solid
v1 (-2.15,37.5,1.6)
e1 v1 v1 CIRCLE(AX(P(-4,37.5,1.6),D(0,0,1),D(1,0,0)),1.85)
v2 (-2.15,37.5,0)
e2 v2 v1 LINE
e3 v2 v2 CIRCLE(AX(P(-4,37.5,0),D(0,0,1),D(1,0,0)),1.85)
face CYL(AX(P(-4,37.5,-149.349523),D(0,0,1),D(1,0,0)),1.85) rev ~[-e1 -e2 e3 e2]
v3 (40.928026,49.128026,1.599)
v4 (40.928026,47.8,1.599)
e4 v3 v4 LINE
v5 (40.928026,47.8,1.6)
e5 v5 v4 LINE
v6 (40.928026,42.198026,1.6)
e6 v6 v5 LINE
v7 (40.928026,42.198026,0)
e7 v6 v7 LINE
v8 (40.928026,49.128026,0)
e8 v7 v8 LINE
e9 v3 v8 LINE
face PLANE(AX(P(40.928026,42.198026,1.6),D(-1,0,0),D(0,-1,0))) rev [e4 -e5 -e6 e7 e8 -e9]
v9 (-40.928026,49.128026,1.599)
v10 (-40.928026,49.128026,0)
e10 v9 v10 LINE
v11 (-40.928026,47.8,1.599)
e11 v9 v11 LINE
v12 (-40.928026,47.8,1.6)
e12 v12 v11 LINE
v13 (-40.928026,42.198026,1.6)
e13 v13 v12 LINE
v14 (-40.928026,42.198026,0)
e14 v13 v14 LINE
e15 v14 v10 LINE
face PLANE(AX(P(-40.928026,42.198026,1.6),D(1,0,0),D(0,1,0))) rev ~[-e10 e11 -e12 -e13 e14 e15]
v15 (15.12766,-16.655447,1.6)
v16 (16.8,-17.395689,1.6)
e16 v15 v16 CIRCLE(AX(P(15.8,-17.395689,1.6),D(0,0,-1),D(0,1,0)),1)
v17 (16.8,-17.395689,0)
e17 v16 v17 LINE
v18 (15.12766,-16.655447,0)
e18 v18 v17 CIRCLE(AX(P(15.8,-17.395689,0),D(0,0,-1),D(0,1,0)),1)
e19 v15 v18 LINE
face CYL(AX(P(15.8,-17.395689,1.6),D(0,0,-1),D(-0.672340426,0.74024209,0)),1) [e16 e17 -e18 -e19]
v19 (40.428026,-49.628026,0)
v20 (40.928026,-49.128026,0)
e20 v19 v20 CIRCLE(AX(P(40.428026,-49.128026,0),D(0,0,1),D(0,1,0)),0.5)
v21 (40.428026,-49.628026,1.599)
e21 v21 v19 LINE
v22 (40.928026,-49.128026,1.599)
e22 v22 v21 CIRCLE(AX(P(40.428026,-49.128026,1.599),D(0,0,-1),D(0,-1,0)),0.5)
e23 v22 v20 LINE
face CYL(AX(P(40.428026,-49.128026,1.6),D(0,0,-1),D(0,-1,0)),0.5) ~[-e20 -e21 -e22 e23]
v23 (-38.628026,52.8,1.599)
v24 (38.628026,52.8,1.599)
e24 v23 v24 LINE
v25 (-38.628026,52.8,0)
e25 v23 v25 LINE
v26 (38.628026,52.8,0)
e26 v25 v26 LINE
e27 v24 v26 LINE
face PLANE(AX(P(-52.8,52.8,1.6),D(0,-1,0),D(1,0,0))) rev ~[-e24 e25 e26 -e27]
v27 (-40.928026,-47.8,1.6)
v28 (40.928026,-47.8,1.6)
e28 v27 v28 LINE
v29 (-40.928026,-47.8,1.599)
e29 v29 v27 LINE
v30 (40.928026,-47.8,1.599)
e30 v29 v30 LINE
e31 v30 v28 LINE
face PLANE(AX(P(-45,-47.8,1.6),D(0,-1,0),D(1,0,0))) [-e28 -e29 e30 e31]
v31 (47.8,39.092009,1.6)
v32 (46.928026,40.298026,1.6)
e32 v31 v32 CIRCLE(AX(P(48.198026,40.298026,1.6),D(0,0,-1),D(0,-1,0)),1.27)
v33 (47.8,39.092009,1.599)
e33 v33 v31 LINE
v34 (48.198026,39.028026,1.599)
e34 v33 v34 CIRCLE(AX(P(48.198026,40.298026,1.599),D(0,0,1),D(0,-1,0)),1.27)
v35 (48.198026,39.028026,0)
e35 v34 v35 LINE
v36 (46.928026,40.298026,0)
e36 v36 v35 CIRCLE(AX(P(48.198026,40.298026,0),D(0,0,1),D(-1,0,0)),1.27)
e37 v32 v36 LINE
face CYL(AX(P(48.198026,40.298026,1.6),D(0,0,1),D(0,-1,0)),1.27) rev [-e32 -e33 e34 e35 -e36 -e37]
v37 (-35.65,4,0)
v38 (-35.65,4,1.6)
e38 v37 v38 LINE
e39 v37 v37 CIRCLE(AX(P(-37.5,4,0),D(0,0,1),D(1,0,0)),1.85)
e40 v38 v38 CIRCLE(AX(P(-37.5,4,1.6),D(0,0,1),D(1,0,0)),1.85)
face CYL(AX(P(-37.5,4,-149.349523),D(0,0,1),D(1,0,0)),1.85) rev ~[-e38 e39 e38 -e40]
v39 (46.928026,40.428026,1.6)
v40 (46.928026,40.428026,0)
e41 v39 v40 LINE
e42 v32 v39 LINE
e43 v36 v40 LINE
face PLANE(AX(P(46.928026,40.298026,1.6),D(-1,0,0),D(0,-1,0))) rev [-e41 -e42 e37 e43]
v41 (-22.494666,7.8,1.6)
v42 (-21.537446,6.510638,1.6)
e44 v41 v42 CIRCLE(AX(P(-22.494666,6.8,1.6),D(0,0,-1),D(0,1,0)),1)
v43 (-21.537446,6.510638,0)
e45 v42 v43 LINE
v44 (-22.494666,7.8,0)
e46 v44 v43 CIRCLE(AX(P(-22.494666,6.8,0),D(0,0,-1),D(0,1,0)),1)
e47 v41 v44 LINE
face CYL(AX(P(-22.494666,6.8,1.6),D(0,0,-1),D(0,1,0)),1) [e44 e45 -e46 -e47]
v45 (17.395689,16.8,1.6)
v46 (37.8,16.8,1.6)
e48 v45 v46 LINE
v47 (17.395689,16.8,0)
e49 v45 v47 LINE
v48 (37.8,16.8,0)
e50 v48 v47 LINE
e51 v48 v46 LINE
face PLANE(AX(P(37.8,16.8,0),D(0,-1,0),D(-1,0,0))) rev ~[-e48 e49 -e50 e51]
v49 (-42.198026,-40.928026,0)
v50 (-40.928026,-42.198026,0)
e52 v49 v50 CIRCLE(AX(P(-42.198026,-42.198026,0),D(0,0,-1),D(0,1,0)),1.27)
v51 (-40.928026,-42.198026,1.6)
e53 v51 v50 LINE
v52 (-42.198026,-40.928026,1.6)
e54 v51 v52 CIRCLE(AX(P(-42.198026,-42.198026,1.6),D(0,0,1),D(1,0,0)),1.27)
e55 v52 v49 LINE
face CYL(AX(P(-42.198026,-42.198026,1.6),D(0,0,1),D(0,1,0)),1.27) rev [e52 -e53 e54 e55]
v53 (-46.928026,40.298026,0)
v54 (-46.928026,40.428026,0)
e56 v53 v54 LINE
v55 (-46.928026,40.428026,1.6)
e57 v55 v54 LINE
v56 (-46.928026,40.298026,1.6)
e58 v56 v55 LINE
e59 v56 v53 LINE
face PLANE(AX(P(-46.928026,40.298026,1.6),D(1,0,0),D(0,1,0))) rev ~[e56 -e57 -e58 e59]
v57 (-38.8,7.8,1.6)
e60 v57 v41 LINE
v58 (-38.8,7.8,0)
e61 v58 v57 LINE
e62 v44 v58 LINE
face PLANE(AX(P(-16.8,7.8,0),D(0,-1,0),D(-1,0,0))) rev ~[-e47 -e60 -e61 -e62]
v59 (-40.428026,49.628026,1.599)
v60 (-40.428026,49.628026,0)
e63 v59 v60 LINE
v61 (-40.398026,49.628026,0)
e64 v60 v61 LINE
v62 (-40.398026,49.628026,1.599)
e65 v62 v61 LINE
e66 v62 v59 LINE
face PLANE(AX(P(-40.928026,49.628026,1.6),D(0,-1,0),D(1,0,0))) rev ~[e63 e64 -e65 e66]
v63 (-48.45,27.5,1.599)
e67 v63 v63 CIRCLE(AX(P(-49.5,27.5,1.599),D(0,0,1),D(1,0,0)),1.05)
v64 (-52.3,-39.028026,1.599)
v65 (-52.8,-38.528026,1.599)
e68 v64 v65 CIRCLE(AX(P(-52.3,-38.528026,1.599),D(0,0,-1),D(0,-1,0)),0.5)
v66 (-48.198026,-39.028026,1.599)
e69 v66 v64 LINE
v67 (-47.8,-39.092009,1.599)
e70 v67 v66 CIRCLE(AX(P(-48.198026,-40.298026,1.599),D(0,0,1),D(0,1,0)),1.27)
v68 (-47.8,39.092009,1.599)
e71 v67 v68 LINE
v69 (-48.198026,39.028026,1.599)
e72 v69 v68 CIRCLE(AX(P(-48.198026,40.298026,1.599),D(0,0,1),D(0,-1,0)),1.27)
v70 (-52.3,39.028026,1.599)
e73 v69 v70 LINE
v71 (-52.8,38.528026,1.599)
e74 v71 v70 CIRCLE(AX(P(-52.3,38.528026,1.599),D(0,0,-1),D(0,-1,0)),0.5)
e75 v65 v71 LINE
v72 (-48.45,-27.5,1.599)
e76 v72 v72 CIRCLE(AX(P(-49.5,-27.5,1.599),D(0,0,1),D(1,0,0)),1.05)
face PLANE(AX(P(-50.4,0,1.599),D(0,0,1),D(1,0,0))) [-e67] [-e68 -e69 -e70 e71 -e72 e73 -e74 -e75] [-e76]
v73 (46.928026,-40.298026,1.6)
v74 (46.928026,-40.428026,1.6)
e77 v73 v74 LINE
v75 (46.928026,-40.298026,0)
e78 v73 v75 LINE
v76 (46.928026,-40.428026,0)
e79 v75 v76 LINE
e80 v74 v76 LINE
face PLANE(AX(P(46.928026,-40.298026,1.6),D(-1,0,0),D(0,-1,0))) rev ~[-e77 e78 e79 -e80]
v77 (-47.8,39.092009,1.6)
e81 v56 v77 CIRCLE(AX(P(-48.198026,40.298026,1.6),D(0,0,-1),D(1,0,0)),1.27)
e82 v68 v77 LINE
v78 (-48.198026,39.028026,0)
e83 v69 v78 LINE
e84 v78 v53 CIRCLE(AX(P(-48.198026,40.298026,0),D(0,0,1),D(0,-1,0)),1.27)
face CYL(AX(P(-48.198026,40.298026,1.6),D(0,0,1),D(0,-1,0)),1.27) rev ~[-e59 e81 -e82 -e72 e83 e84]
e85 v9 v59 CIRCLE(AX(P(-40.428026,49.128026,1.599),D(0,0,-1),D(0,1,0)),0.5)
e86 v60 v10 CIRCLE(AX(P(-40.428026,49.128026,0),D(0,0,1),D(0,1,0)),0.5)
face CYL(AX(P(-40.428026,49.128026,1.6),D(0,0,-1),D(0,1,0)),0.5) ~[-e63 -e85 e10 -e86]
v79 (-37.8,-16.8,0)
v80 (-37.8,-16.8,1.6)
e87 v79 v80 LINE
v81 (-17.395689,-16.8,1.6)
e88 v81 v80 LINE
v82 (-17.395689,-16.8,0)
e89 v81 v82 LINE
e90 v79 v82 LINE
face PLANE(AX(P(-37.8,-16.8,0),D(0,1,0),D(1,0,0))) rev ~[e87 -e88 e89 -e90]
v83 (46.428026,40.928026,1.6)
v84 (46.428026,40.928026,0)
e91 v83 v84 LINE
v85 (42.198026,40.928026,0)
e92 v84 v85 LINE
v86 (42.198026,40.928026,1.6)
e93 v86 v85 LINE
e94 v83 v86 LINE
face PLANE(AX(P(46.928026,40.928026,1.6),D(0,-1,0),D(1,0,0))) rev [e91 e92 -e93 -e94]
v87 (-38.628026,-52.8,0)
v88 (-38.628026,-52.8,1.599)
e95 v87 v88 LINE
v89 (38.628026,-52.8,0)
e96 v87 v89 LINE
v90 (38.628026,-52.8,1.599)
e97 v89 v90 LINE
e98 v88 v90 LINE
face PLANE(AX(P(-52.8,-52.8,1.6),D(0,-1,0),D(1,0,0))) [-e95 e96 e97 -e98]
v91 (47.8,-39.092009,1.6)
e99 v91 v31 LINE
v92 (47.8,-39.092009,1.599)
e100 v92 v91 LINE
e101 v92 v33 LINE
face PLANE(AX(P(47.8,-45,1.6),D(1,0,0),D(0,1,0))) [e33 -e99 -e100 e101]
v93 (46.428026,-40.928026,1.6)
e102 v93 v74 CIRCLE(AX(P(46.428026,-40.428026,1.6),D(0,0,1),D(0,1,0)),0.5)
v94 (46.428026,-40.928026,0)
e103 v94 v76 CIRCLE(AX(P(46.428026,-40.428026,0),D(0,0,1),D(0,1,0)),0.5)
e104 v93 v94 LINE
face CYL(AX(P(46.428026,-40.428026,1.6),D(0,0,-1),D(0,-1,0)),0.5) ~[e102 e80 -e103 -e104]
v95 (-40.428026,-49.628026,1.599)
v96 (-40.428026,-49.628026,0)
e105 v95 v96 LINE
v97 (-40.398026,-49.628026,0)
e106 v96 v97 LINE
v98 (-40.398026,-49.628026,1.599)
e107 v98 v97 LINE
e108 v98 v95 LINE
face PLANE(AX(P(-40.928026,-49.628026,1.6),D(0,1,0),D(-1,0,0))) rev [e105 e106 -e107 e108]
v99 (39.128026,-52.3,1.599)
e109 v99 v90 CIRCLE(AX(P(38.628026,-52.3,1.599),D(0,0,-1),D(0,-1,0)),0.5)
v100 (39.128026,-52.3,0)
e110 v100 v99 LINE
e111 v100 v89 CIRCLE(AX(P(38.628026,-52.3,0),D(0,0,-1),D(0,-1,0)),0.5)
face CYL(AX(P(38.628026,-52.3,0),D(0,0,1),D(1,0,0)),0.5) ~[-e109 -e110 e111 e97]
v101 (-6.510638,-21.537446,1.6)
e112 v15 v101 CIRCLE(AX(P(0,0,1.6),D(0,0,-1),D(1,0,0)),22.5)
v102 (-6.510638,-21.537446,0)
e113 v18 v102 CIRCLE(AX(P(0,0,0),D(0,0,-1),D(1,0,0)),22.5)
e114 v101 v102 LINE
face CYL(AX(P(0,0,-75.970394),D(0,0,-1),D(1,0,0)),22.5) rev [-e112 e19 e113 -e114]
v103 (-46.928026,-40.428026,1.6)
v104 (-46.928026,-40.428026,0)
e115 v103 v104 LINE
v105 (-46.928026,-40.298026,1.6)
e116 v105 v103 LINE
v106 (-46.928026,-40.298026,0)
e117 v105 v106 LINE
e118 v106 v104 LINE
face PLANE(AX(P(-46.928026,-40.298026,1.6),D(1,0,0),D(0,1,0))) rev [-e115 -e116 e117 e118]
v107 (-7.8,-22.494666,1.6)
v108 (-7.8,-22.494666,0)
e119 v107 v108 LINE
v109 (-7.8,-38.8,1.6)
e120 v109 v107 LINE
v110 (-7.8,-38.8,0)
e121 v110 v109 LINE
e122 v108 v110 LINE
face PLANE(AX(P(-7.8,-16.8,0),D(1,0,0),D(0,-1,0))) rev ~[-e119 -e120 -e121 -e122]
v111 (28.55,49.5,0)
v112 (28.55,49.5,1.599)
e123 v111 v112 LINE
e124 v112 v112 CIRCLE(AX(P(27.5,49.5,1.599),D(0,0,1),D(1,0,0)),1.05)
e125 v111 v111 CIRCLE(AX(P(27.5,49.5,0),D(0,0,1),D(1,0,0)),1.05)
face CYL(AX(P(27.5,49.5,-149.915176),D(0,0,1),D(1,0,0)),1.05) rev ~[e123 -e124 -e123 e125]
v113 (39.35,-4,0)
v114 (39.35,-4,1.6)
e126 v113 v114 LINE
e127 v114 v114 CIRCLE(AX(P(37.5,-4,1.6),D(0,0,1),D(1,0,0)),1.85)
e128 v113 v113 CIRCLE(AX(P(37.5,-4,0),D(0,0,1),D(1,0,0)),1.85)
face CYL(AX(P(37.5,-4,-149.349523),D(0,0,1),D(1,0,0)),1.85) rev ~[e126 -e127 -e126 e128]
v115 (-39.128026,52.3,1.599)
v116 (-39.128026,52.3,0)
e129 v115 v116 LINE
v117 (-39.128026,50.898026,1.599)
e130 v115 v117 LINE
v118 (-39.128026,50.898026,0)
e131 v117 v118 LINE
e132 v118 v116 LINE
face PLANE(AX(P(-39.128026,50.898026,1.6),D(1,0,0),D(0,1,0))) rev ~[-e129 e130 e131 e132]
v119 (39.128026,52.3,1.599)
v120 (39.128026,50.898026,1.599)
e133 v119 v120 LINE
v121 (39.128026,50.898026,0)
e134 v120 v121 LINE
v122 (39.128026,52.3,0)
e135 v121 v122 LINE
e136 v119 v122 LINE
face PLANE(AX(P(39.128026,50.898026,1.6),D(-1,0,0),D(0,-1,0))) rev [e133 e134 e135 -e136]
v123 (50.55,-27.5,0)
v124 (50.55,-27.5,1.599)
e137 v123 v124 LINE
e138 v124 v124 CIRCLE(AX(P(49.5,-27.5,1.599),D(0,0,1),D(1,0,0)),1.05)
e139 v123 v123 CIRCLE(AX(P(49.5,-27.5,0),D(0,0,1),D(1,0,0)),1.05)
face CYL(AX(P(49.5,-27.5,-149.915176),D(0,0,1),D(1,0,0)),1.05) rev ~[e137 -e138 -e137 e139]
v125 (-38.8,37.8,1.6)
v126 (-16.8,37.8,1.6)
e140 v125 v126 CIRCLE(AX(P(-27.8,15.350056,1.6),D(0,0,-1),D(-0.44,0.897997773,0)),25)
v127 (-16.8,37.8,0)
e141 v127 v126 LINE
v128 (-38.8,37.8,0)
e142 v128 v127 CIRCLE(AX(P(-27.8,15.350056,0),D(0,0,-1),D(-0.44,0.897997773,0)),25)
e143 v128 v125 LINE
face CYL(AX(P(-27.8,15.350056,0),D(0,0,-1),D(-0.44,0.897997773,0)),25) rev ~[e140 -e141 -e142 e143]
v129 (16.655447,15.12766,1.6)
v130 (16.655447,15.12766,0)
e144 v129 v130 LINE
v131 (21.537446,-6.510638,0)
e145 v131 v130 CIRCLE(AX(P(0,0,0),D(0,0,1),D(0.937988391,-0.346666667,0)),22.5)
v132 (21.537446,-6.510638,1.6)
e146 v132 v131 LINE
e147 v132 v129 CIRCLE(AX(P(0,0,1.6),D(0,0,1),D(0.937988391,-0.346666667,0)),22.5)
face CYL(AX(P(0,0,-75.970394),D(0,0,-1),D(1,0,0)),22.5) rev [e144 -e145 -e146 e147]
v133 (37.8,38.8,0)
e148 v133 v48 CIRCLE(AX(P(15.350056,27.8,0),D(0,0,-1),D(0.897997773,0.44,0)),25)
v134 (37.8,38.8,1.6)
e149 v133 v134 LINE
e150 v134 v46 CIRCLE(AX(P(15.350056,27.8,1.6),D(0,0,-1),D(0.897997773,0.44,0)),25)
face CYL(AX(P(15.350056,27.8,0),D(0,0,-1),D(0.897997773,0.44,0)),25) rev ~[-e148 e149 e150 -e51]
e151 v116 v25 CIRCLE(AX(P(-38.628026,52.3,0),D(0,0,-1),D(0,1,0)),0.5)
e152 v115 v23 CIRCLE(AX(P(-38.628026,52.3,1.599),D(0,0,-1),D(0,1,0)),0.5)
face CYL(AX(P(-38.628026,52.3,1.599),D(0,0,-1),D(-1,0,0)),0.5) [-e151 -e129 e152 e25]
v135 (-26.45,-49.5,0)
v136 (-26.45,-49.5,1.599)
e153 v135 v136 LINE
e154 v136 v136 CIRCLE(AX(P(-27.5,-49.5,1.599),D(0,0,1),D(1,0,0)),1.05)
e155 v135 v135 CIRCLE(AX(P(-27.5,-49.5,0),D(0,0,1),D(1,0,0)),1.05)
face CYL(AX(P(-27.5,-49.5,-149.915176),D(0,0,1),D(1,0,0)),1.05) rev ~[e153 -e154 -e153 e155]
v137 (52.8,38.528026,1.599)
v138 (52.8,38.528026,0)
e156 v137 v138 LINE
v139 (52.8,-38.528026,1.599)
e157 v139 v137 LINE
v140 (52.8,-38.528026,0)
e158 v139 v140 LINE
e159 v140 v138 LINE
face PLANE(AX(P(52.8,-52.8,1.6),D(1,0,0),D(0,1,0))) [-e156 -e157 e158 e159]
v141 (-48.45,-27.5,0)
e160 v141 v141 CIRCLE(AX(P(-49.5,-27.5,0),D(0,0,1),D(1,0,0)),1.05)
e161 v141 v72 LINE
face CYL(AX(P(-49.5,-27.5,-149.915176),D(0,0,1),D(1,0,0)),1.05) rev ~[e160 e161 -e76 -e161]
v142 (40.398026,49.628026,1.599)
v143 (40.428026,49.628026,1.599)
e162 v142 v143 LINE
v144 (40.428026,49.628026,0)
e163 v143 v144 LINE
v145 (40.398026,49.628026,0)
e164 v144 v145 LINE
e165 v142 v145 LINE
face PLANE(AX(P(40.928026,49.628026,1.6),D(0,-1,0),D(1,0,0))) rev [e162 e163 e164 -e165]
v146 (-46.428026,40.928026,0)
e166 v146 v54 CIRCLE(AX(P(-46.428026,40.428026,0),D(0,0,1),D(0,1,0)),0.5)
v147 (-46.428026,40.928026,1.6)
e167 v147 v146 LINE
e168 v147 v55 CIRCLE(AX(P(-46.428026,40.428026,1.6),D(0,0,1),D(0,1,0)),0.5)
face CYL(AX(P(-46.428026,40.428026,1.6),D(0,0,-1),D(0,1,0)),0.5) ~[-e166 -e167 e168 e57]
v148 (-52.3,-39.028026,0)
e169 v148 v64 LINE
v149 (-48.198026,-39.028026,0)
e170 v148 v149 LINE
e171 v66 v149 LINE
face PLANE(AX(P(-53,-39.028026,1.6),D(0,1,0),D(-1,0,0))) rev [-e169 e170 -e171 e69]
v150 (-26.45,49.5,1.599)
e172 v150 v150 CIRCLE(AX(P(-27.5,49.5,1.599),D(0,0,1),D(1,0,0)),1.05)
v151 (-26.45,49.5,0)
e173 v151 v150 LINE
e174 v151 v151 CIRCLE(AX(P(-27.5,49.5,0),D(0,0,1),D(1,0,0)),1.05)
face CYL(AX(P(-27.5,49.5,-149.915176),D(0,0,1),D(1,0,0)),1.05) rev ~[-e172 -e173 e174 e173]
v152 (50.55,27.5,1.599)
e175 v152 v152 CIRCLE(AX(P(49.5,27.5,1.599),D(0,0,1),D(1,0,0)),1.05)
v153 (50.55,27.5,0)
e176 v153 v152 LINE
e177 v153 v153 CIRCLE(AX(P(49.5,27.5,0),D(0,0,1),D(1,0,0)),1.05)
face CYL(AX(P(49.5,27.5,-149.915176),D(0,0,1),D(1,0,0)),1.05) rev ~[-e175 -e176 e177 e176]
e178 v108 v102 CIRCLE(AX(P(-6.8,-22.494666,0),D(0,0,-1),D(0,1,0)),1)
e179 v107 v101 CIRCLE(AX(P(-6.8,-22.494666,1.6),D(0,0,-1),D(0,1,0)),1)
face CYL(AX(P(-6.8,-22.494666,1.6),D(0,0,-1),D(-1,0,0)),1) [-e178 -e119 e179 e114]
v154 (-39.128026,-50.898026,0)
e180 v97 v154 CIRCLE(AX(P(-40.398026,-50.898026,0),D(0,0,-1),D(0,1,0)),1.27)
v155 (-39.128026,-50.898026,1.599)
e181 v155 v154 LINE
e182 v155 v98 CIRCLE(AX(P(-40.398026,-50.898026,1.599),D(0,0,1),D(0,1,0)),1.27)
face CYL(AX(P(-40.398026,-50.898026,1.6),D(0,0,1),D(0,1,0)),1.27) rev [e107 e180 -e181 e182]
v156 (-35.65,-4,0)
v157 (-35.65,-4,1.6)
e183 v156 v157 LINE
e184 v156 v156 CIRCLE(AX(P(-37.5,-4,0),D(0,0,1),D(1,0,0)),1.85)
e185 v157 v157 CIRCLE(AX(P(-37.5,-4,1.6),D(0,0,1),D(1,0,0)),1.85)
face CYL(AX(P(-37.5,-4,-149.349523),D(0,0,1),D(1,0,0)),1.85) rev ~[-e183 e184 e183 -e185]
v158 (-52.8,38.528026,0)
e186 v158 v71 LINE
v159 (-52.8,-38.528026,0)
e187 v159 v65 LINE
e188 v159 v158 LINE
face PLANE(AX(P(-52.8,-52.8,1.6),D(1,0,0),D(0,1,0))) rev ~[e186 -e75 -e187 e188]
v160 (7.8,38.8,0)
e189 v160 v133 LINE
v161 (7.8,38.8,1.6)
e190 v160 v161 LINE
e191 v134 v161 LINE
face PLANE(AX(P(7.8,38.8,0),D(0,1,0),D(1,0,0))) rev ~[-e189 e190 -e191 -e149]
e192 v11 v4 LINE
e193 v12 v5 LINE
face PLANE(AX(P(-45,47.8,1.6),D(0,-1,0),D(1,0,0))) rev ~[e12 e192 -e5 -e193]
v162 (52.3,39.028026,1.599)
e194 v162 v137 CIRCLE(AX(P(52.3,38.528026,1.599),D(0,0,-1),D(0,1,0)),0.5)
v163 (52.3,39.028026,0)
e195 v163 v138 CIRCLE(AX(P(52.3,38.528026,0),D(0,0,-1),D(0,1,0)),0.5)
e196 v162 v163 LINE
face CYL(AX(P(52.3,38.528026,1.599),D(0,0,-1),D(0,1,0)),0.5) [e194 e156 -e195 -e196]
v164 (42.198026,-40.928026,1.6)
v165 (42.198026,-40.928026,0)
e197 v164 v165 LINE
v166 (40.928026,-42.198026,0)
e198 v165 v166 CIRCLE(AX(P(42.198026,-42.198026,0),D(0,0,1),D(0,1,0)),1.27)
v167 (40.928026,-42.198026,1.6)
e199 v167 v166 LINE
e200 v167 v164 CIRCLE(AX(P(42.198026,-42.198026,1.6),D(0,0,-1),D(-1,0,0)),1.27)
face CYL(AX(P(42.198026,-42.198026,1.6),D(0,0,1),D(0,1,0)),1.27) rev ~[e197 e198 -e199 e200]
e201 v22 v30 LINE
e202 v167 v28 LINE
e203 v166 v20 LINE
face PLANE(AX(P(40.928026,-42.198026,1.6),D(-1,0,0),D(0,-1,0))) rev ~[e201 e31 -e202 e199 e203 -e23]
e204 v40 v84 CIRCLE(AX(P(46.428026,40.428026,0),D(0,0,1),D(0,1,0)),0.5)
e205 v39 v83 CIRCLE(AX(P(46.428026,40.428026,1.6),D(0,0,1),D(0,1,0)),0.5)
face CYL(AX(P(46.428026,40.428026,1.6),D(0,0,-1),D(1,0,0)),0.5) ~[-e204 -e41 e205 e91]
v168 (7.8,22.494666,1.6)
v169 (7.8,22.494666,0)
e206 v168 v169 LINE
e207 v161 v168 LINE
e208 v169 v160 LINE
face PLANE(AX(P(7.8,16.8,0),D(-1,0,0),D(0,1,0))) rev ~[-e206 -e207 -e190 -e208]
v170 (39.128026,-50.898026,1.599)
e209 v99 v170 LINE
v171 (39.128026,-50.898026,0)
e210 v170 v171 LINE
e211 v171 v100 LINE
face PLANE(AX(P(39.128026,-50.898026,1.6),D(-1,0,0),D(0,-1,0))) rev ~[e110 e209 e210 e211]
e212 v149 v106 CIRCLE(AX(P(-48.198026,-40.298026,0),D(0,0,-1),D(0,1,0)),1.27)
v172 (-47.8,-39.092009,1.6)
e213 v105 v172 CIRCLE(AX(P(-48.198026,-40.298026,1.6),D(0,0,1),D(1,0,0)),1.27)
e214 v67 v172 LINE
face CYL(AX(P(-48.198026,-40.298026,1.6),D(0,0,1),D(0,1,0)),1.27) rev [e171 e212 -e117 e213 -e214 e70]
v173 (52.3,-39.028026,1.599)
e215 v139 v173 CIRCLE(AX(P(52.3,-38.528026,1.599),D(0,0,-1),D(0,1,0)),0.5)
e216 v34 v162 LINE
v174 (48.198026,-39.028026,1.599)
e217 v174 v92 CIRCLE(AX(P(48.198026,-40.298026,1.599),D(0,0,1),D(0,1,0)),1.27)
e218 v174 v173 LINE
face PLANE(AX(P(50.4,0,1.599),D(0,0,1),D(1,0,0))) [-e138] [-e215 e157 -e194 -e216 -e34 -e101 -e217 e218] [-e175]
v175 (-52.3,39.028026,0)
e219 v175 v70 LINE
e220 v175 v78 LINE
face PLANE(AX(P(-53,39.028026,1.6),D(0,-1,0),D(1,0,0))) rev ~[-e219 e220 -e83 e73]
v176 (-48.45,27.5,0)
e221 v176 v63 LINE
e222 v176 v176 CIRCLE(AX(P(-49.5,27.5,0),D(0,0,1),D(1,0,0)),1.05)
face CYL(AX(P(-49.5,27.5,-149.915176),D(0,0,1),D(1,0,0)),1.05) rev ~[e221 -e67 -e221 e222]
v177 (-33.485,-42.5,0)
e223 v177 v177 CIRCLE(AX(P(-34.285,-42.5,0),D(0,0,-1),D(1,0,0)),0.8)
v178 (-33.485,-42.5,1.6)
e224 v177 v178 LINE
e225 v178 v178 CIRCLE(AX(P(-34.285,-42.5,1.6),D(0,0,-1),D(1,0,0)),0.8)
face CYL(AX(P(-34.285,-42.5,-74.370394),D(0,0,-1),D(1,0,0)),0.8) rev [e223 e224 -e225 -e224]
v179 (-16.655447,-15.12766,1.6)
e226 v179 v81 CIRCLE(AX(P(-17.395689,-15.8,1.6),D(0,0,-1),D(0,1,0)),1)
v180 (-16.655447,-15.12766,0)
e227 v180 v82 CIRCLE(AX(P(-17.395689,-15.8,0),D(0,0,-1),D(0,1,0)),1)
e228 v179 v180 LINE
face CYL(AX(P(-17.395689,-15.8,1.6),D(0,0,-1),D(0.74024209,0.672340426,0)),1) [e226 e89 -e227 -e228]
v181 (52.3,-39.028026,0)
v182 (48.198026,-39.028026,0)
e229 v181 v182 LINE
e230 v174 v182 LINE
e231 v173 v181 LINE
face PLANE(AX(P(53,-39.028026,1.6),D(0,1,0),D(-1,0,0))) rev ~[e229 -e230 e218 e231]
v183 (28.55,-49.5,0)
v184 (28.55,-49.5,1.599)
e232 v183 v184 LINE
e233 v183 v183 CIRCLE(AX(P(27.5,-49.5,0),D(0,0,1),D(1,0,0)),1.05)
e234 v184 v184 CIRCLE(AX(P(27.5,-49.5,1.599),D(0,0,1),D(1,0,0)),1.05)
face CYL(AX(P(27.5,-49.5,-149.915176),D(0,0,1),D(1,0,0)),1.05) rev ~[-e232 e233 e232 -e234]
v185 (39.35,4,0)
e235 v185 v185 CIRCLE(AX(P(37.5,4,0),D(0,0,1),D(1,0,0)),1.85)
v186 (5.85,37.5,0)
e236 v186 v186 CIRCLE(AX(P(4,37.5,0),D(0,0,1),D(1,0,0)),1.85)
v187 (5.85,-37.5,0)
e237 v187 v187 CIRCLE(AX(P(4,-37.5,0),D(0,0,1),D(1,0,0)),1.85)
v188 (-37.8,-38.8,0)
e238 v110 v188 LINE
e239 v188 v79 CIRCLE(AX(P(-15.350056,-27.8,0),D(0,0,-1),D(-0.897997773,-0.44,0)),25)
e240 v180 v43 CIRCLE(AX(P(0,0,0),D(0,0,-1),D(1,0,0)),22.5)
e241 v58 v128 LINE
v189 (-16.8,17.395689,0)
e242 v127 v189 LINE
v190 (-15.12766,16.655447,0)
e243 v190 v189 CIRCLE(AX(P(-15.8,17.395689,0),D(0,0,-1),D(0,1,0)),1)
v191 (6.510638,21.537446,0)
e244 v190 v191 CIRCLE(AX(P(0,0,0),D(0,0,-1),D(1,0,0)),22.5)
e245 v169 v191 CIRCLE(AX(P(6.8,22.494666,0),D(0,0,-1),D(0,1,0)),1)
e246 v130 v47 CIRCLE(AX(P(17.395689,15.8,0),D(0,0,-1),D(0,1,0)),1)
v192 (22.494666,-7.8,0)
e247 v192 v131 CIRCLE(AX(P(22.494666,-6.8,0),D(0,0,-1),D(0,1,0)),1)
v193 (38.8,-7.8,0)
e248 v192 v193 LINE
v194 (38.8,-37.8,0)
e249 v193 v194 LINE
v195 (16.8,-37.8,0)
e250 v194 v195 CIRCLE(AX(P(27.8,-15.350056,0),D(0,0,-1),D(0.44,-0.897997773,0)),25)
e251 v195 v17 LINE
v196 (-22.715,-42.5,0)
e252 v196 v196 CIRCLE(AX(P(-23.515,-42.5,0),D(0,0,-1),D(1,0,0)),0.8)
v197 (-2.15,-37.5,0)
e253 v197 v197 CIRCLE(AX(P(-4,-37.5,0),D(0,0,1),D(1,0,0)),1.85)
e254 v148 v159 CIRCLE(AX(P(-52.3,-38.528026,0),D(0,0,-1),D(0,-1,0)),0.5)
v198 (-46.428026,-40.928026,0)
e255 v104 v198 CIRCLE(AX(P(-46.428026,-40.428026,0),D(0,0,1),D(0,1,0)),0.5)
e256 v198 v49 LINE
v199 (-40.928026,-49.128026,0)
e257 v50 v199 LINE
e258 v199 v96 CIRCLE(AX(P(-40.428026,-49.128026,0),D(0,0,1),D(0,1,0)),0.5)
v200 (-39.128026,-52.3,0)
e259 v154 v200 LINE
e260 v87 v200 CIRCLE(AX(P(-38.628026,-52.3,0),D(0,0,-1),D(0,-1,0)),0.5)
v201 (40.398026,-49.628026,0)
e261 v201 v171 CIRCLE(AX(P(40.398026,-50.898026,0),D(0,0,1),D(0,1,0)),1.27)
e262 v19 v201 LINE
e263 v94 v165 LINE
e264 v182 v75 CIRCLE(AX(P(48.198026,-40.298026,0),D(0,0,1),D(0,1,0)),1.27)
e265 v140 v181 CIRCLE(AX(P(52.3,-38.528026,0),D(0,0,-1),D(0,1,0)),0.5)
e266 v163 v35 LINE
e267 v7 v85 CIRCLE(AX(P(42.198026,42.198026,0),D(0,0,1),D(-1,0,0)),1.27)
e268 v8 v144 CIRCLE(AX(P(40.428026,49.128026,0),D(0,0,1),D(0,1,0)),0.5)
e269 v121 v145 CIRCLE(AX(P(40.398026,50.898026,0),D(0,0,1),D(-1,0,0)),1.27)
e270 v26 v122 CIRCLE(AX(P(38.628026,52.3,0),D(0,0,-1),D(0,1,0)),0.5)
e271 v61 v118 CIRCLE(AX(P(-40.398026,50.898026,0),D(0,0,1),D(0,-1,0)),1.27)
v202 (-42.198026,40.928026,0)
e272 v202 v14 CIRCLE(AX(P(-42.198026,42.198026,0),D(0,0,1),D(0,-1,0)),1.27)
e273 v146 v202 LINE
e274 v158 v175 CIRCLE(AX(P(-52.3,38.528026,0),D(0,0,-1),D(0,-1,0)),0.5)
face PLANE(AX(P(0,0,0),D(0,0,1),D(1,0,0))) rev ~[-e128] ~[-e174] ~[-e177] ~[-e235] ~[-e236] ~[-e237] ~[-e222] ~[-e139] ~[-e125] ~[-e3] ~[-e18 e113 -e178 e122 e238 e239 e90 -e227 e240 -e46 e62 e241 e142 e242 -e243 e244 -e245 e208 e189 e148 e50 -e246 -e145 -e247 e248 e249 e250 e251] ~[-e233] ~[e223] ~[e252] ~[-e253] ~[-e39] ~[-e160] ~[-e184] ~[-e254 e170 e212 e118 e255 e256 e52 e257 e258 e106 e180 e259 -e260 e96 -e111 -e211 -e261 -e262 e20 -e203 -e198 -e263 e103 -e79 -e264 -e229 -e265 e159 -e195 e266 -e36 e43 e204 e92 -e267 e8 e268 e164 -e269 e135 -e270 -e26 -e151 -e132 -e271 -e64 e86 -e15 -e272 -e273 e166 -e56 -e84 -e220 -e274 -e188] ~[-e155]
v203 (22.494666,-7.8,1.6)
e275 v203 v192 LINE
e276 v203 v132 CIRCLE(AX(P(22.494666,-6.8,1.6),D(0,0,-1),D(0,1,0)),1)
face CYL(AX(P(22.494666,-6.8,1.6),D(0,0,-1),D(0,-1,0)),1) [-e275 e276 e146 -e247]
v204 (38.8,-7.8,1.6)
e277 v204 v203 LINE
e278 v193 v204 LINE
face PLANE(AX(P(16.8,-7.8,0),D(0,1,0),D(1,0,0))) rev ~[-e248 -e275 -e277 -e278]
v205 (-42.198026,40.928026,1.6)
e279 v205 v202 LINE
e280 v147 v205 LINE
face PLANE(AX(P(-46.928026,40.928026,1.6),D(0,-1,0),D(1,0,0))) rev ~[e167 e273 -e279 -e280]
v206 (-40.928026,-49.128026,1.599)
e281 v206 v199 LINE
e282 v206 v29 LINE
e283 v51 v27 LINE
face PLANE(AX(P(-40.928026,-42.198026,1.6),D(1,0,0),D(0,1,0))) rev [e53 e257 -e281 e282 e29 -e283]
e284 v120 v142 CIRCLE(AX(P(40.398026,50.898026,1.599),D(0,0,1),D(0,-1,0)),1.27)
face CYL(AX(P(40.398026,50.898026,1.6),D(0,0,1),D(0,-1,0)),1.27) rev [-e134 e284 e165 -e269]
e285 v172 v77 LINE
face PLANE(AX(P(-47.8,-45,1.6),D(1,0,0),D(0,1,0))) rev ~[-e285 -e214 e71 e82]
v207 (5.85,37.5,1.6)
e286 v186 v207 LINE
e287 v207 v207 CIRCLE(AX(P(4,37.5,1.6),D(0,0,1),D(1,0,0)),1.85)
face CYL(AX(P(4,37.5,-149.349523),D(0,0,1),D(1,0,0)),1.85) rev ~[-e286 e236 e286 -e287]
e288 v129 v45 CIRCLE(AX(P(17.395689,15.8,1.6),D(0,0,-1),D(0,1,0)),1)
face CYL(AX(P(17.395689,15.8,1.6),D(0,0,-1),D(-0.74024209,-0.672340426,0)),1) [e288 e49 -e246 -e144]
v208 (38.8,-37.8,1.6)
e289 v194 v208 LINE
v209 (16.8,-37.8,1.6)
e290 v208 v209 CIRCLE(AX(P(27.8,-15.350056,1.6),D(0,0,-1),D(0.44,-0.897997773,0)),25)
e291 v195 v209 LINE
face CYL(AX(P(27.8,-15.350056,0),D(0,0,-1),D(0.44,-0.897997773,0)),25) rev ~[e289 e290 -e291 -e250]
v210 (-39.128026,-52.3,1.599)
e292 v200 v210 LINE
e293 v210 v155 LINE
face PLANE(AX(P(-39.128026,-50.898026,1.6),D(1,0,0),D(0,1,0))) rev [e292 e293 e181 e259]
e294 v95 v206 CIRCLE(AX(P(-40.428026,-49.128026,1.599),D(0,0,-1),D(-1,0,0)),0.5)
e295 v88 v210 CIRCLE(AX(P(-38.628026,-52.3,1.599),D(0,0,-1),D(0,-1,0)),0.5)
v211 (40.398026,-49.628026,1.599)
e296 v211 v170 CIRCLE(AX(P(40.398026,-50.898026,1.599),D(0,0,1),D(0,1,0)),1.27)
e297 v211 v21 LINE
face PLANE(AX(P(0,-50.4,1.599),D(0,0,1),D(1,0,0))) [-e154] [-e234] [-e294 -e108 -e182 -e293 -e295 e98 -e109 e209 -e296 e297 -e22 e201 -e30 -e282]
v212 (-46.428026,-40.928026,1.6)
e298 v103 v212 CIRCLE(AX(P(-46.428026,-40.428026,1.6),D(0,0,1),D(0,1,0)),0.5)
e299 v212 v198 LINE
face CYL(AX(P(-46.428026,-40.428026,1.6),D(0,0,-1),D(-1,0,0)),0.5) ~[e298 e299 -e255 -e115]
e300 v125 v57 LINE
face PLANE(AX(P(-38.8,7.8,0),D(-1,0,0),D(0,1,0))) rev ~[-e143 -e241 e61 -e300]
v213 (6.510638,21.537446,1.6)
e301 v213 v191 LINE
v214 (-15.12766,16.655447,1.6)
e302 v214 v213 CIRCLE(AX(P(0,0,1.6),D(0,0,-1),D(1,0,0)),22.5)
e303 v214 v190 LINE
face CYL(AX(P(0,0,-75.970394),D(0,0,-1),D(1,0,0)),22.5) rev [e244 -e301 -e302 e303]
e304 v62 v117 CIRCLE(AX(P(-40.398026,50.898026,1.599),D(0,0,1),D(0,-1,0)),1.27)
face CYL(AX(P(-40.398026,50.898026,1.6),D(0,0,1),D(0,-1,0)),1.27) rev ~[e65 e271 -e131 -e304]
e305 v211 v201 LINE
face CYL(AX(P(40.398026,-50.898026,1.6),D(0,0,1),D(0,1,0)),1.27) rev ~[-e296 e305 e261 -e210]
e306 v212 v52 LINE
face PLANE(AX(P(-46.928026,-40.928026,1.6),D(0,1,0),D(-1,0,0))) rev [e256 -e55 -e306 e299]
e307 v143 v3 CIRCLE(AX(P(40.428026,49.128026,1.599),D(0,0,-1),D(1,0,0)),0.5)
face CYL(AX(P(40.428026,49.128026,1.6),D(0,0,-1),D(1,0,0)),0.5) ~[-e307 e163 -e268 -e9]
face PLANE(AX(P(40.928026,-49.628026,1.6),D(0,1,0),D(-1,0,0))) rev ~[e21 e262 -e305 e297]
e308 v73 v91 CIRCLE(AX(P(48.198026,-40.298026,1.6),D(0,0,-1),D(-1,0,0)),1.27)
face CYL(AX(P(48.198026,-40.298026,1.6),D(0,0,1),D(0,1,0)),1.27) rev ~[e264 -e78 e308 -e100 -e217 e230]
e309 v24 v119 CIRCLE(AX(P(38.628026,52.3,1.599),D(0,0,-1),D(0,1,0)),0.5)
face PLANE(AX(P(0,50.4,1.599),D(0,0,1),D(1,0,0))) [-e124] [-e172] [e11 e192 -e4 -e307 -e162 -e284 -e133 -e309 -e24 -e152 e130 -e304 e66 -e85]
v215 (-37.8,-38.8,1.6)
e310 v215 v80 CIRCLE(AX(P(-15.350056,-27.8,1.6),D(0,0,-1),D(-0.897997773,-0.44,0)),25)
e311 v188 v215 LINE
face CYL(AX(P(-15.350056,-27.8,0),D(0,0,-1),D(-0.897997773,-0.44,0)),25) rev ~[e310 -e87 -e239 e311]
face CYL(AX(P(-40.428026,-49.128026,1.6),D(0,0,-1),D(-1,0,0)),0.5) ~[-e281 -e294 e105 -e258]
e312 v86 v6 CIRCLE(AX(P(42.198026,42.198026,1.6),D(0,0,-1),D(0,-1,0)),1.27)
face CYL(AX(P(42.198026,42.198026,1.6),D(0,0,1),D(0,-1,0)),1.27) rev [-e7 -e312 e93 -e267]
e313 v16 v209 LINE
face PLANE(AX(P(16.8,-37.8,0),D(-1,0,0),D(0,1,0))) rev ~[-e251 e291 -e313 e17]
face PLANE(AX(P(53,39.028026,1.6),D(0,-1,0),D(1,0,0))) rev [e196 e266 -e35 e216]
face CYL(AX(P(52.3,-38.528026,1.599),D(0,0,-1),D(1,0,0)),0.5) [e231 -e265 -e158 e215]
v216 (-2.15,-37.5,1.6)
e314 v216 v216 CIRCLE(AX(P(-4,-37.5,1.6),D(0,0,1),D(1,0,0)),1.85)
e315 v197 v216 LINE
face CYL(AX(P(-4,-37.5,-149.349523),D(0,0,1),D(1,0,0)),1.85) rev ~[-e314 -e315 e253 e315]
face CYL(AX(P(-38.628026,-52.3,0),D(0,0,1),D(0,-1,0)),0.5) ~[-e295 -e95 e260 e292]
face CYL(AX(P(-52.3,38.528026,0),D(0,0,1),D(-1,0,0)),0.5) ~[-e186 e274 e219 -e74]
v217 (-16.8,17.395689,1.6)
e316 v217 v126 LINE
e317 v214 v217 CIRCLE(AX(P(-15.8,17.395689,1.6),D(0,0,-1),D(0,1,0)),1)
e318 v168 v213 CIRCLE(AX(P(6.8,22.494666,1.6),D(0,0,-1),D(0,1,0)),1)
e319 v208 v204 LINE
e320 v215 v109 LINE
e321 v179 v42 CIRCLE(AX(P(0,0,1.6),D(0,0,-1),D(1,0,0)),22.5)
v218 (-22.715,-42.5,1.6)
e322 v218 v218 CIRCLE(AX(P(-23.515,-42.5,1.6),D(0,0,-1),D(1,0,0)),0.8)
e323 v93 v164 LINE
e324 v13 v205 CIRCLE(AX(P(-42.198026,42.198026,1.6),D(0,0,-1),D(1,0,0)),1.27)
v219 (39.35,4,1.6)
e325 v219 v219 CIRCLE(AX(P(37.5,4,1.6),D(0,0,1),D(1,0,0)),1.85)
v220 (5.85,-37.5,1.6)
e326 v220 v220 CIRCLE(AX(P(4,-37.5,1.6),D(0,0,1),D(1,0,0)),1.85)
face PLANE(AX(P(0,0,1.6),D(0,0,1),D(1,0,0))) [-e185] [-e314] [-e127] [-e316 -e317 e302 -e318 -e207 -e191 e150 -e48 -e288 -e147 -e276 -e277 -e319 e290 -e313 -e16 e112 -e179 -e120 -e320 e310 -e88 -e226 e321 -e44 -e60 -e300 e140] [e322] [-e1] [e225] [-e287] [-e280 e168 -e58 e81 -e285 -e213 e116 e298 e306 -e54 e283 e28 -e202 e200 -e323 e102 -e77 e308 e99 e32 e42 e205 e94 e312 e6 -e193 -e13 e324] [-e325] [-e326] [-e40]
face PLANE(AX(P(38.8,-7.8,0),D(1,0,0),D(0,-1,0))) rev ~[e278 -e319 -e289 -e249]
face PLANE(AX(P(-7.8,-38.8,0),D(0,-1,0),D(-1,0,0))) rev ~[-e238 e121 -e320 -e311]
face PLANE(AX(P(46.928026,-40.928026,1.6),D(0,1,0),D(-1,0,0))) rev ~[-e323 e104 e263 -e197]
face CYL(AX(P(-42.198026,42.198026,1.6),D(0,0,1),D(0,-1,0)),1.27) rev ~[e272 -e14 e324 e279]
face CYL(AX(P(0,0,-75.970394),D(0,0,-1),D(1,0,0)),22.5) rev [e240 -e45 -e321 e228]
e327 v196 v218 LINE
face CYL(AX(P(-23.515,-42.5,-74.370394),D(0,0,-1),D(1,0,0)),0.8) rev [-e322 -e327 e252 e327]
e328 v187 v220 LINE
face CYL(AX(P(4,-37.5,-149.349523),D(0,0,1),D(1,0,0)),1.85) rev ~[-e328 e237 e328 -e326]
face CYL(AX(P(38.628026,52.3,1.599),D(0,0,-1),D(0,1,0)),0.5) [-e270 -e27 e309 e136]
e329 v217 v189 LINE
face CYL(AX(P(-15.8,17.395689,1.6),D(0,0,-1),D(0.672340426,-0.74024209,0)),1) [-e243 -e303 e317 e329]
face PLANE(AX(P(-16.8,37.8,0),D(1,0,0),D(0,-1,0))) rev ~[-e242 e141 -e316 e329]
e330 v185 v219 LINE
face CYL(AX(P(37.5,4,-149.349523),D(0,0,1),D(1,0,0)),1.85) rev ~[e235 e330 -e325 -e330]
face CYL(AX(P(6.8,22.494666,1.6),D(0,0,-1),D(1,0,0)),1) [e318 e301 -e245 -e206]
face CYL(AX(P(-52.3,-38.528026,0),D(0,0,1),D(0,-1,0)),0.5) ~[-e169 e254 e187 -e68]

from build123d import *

# Parameters (mm, degrees)
SKETCH1_W                           = 106
SKETCH1_H                           = 106
MAINOUTLINE_DEPTH                   = 1.6
SKETCH4_W                           = 11.7
SKETCH4_H                           = 11.7
RAILCUTOUTS_DEPTH                   = 75.970394157
SKETCH13_W                          = 5.7
SKETCH13_H                          = 1.9
SKETCH13_W_2                        = 1.8
SKETCH13_H_2                        = 3
FILLETCUTOUTS_DEPTH                 = 75.970394157
SMOOTHCORNER_DEPTH                  = 10
MIRROR2_COPY_1_SKETCH_W             = 11.7
MIRROR2_COPY_1_SKETCH_H             = 11.7
MIRROR2_COPY_1_DEPTH                = 75.970394157
MIRROR2_COPY_2_SKETCH_W             = 5.7
MIRROR2_COPY_2_SKETCH_H             = 1.9
MIRROR2_COPY_2_SKETCH_W_2           = 1.8
MIRROR2_COPY_2_SKETCH_H_2           = 3
MIRROR2_COPY_2_DEPTH                = 75.970394157
MIRROR2_COPY_3_DEPTH                = 10
MIRROR2_COPY_4_SKETCH_W             = 11.7
MIRROR2_COPY_4_SKETCH_H             = 11.7
MIRROR2_COPY_4_DEPTH                = 75.970394157
MIRROR2_COPY_5_SKETCH_W             = 5.7
MIRROR2_COPY_5_SKETCH_H             = 1.9
MIRROR2_COPY_5_SKETCH_W_2           = 1.8
MIRROR2_COPY_5_SKETCH_H_2           = 3
MIRROR2_COPY_5_DEPTH                = 75.970394157
MIRROR2_COPY_6_DEPTH                = 10
FILLET10_R                          = 0.5
M2_CLEARANCE_HOLE1_D                = 2.1
INTERBOARDCONNECTORHOLES_DEPTH      = 75.970394157
INTERBOARDCONNECTORHOLES_DEPTH_BACK = 75.970394157
SKETCH12_R                          = 0.8
SKETCH16_W                          = 90
SKETCH16_H                          = 5.2
SKETCH16_W_2                        = 5.2
SKETCH16_H_2                        = 90
CUT_EXTRUDE6_DEPTH                  = 0.001
CUT_EXTRUDE10_DEPTH                 = 75.970394157
CUT_EXTRUDE10_DEPTH_BACK            = 75.970394157
SKETCH21_R                          = 22.5
SKETCH24_OUTSIDE_W                  = 137.984
SKETCH24_OUTSIDE_H                  = 137.984
SKETCH24_OUTSIDE_W_2                = 105.6
SKETCH24_OUTSIDE_H_2                = 105.6
CUT_EXTRUDE19_DEPTH                 = 75.970394157
FILLET7_R                           = 0.5
F_1_0MM_DOWEL_HOLE1_D               = 3.7
CUT_EXTRUDE23_DEPTH                 = 75.687616109
FILLET14_R                          = 1


with BuildPart() as part:
    # Sketch1 → mainOutline (new body)
    with BuildSketch(Plane.XY):
        Rectangle(SKETCH1_W, SKETCH1_H)
    extrude(amount=MAINOUTLINE_DEPTH)

    # Sketch4 → railCutouts (cut, through all)
    with BuildSketch(Plane(origin=(0, 0, 0), x_dir=(-1, 0, 0), z_dir=(0, 0, -1))):
        with Locations((47.15, 47.15)):
            Rectangle(SKETCH4_W, SKETCH4_H)
    railcutouts = extrude(amount=-RAILCUTOUTS_DEPTH, mode=Mode.SUBTRACT)

    # Sketch13 → filletCutouts (cut, symmetric)
    with BuildSketch(Plane(origin=(0, 0, 0), x_dir=(-1, 0, 0), z_dir=(0, 0, -1))):
        with Locations((50.15, 40.35)):
            Rectangle(SKETCH13_W, SKETCH13_H)
        with Locations((40.4, 51.5)):
            Rectangle(SKETCH13_W_2, SKETCH13_H_2)
    filletcutouts = extrude(amount=FILLETCUTOUTS_DEPTH, both=True, mode=Mode.SUBTRACT)

    # Sketch27 → smoothCorner (cut)
    with BuildSketch(Plane.XY.offset(1.6)):
        with BuildLine():
            Line((-40.928025612, 42.198025612), (-40.928025612, 49.628025612))
            Line((-40.928025612, 49.628025612), (-40.398025612, 49.628025612))
            ThreePointArc((-40.398025612, 49.628025612), (-39.5, 50), (-39.128025612, 50.898025612))
            Line((-39.128025612, 50.898025612), (-39.128025612, 53))
            Line((-39.128025612, 53), (-53, 53))
            Line((-53, 53), (-53, 39.028025612))
            Line((-53, 39.028025612), (-48.198025612, 39.028025612))
            ThreePointArc((-48.198025612, 39.028025612), (-47.3, 39.4), (-46.928025612, 40.298025612))
            Line((-46.928025612, 40.298025612), (-46.928025612, 40.928025612))
            Line((-46.928025612, 40.928025612), (-42.198025612, 40.928025612))
            ThreePointArc((-42.198025612, 40.928025612), (-41.3, 41.3), (-40.928025612, 42.198025612))
        make_face()
    smoothcorner = extrude(amount=-SMOOTHCORNER_DEPTH, mode=Mode.SUBTRACT)

    # Mirror1: railCutouts, filletCutouts, smoothCorner across plane
    add(railcutouts.mirror(Plane(origin=(0, 0, 0), x_dir=(0, 0, 1), z_dir=(1, 0, 0))), mode=Mode.SUBTRACT)
    add(filletcutouts.mirror(Plane(origin=(0, 0, 0), x_dir=(0, 0, 1), z_dir=(1, 0, 0))), mode=Mode.SUBTRACT)
    add(smoothcorner.mirror(Plane(origin=(0, 0, 0), x_dir=(0, 0, 1), z_dir=(1, 0, 0))), mode=Mode.SUBTRACT)

    # Mirror2 copy 1 sketch → Mirror2 copy 1 (cut, through all)
    with BuildSketch(Plane(origin=(0, 0, 0), x_dir=(1, 0, 0), z_dir=(0, 0, -1))):
        with Locations((47.15, 47.15)):
            Rectangle(MIRROR2_COPY_1_SKETCH_W, MIRROR2_COPY_1_SKETCH_H)
    extrude(amount=-MIRROR2_COPY_1_DEPTH, mode=Mode.SUBTRACT)

    # Mirror2 copy 2 sketch → Mirror2 copy 2 (cut, symmetric)
    with BuildSketch(Plane(origin=(0, 0, 0), x_dir=(1, 0, 0), z_dir=(0, 0, -1))):
        with Locations((50.15, 40.35)):
            Rectangle(MIRROR2_COPY_2_SKETCH_W, MIRROR2_COPY_2_SKETCH_H)
        with Locations((40.4, 51.5)):
            Rectangle(MIRROR2_COPY_2_SKETCH_W_2, MIRROR2_COPY_2_SKETCH_H_2)
    extrude(amount=MIRROR2_COPY_2_DEPTH, both=True, mode=Mode.SUBTRACT)

    # Mirror2 copy 3 sketch → Mirror2 copy 3 (cut)
    with BuildSketch(Plane(origin=(0, 0, 1.6), x_dir=(-1, 0, 0), z_dir=(0, 0, 1))):
        with BuildLine():
            Line((-40.928025612, 42.198025612), (-40.928025612, 49.628025612))
            Line((-40.928025612, 49.628025612), (-40.398025612, 49.628025612))
            ThreePointArc((-40.398025612, 49.628025612), (-39.5, 50), (-39.128025612, 50.898025612))
            Line((-39.128025612, 50.898025612), (-39.128025612, 53))
            Line((-39.128025612, 53), (-53, 53))
            Line((-53, 53), (-53, 39.028025612))
            Line((-53, 39.028025612), (-48.198025612, 39.028025612))
            ThreePointArc((-48.198025612, 39.028025612), (-47.3, 39.4), (-46.928025612, 40.298025612))
            Line((-46.928025612, 40.298025612), (-46.928025612, 40.928025612))
            Line((-46.928025612, 40.928025612), (-42.198025612, 40.928025612))
            ThreePointArc((-42.198025612, 40.928025612), (-41.3, 41.3), (-40.928025612, 42.198025612))
        make_face()
    extrude(amount=-MIRROR2_COPY_3_DEPTH, mode=Mode.SUBTRACT)

    # Mirror2 copy 4 sketch → Mirror2 copy 4 (cut, through all)
    with BuildSketch(Plane(origin=(0, 0, 0), x_dir=(-1, 0, 0), z_dir=(0, 0, -1))):
        with Locations((47.15, -47.15)):
            Rectangle(MIRROR2_COPY_4_SKETCH_W, MIRROR2_COPY_4_SKETCH_H)
    extrude(amount=-MIRROR2_COPY_4_DEPTH, mode=Mode.SUBTRACT)

    # Mirror2 copy 5 sketch → Mirror2 copy 5 (cut, symmetric)
    with BuildSketch(Plane(origin=(0, 0, 0), x_dir=(-1, 0, 0), z_dir=(0, 0, -1))):
        with Locations((50.15, -40.35)):
            Rectangle(MIRROR2_COPY_5_SKETCH_W, MIRROR2_COPY_5_SKETCH_H)
        with Locations((40.4, -51.5)):
            Rectangle(MIRROR2_COPY_5_SKETCH_W_2, MIRROR2_COPY_5_SKETCH_H_2)
    extrude(amount=MIRROR2_COPY_5_DEPTH, both=True, mode=Mode.SUBTRACT)

    # Mirror2 copy 6 sketch → Mirror2 copy 6 (cut)
    with BuildSketch(Plane.XY.offset(1.6)):
        with BuildLine():
            Line((-40.928025612, -42.198025612), (-40.928025612, -49.628025612))
            Line((-40.928025612, -49.628025612), (-40.398025612, -49.628025612))
            ThreePointArc((-40.398025612, -49.628025612), (-39.5, -50), (-39.128025612, -50.898025612))
            Line((-39.128025612, -50.898025612), (-39.128025612, -53))
            Line((-39.128025612, -53), (-53, -53))
            Line((-53, -53), (-53, -39.028025612))
            Line((-53, -39.028025612), (-48.198025612, -39.028025612))
            ThreePointArc((-48.198025612, -39.028025612), (-47.3, -39.4), (-46.928025612, -40.298025612))
            Line((-46.928025612, -40.298025612), (-46.928025612, -40.928025612))
            Line((-46.928025612, -40.928025612), (-42.198025612, -40.928025612))
            ThreePointArc((-42.198025612, -40.928025612), (-41.3, -41.3), (-40.928025612, -42.198025612))
        make_face()
    extrude(amount=-MIRROR2_COPY_6_DEPTH, mode=Mode.SUBTRACT)

    # Fillet10
    fillet10_edges = [part.edges().sort_by_distance(p)[0] for p in [
        (46.928025612, -40.928025612, 0.8),
        (40.928025612, -49.628025612, 0.8),
        (40.928025612, 49.628025612, 0.8),
        (46.928025612, 40.928025612, 0.8),
        (-46.928025612, 40.928025612, 0.8),
        (-40.928025612, 49.628025612, 0.8),
        (-46.928025612, -40.928025612, 0.8),
        (-40.928025612, -49.628025612, 0.8),
    ]]
    fillet(fillet10_edges, radius=FILLET10_R)

    # M2 Clearance Hole1 (through all)
    with Locations(Plane(origin=(0, 0, 0), x_dir=(-1, 0, 0), z_dir=(0, 0, -1))):
        with Locations((49.5, -27.5), (27.5, -49.5), (-49.5, -27.5), (-27.5, -49.5), (-27.5, 49.5), (-49.5, 27.5), (27.5, 49.5), (49.5, 27.5)):
            Hole(M2_CLEARANCE_HOLE1_D / 2)

    # Sketch12 → interboardConnectorHoles (cut, two sides: drawn at the far end of the back side and taken through both)
    with BuildSketch(Plane.XY.offset(1.6).offset(-INTERBOARDCONNECTORHOLES_DEPTH_BACK)):
        with Locations((-34.285, -42.5)):
            Circle(SKETCH12_R)
        with Locations((-23.515, -42.5)):
            Circle(SKETCH12_R)
    extrude(amount=INTERBOARDCONNECTORHOLES_DEPTH + INTERBOARDCONNECTORHOLES_DEPTH_BACK, mode=Mode.SUBTRACT)

    # Sketch16 → Cut-Extrude6 (cut)
    with BuildSketch(Plane.XY.offset(1.6)):
        with Locations((0, -50.4)):
            Rectangle(SKETCH16_W, SKETCH16_H)
        with Locations((0, 50.4)):
            Rectangle(SKETCH16_W, SKETCH16_H)
        with Locations((-50.4, 0)):
            Rectangle(SKETCH16_W_2, SKETCH16_H_2)
        with Locations((50.4, 0)):
            Rectangle(SKETCH16_W_2, SKETCH16_H_2)
    extrude(amount=-CUT_EXTRUDE6_DEPTH, mode=Mode.SUBTRACT)

    # Sketch21 → Cut-Extrude10 (cut, two sides: drawn at the far end of the back side and taken through both)
    with BuildSketch(Plane.XY.offset(-CUT_EXTRUDE10_DEPTH_BACK)):
        Circle(SKETCH21_R)
    extrude(amount=CUT_EXTRUDE10_DEPTH + CUT_EXTRUDE10_DEPTH_BACK, mode=Mode.SUBTRACT)

    # Sketch24 outside → Cut-Extrude19 (cut, through all)
    with BuildSketch(Plane.XY.offset(1.6)):
        Rectangle(SKETCH24_OUTSIDE_W, SKETCH24_OUTSIDE_H)
        Rectangle(SKETCH24_OUTSIDE_W_2, SKETCH24_OUTSIDE_H_2, mode=Mode.SUBTRACT)
    extrude(amount=-CUT_EXTRUDE19_DEPTH, mode=Mode.SUBTRACT)

    # Fillet7
    fillet7_edges = [part.edges().sort_by_distance(p)[0] for p in [
        (-52.8, -39.028025612, 0.7995),
        (-39.128025612, -52.8, 0.7995),
        (39.128025612, -52.8, 0.7995),
        (52.8, -39.028025612, 0.7995),
        (52.8, 39.028025612, 0.7995),
        (39.128025612, 52.8, 0.7995),
        (-39.128025612, 52.8, 0.7995),
        (-52.8, 39.028025612, 0.7995),
    ]]
    fillet(fillet7_edges, radius=FILLET7_R)

    # Ø1.0mm Dowel Hole1 (through all)
    with Locations(Plane(origin=(-37.5, 4, 0), x_dir=(-1, 0, 0), z_dir=(0, 0, -1))):
        with Locations((0, 0), (0, -8), (-33.5, -41.5), (-41.5, -41.5), (-75, -8), (-75, 0), (-41.5, 33.5), (-33.5, 33.5)):
            Hole(F_1_0MM_DOWEL_HOLE1_D / 2)

    # Sketch33 → Cut-Extrude23 (cut, through all)
    with BuildSketch(Plane(origin=(0, 0, 0), x_dir=(-1, 0, 0), z_dir=(0, 0, -1))):
        with BuildLine():
            Line((-7.8, 16.8), (-7.8, 38.8))
            Line((-7.8, 38.8), (-37.8, 38.8))
            ThreePointArc((-37.8, 38.8), (-40.350055679, 27.8), (-37.8, 16.8))
            Line((-37.8, 16.8), (-7.8, 16.8))
        make_face()
        with BuildLine():
            Line((-16.8, -7.8), (-38.8, -7.8))
            Line((-38.8, -7.8), (-38.8, -37.8))
            ThreePointArc((-38.8, -37.8), (-27.8, -40.350055679), (-16.8, -37.8))
            Line((-16.8, -37.8), (-16.8, -7.8))
        make_face()
        with BuildLine():
            Line((16.8, 7.8), (38.8, 7.8))
            Line((38.8, 7.8), (38.8, 37.8))
            ThreePointArc((38.8, 37.8), (27.8, 40.350055679), (16.8, 37.8))
            Line((16.8, 37.8), (16.8, 7.8))
        make_face()
        with BuildLine():
            Line((7.8, -16.8), (7.8, -38.8))
            Line((7.8, -38.8), (37.8, -38.8))
            ThreePointArc((37.8, -38.8), (40.350055679, -27.8), (37.8, -16.8))
            Line((37.8, -16.8), (7.8, -16.8))
        make_face()
    extrude(amount=-CUT_EXTRUDE23_DEPTH, mode=Mode.SUBTRACT)

    # Fillet14
    fillet14_edges = [part.edges().sort_by_distance(p)[0] for p in [
        (7.8, 21.104738804, 0.8),
        (14.96696362, 16.8, 0.8),
        (21.104738804, -7.8, 0.8),
        (16.8, -14.96696362, 0.8),
        (-16.8, 14.96696362, 0.8),
        (-21.104738804, 7.8, 0.8),
        (-7.8, -21.104738804, 0.8),
        (-14.96696362, -16.8, 0.8),
    ]]
    fillet(fillet14_edges, radius=FILLET14_R)


solid = part.part
